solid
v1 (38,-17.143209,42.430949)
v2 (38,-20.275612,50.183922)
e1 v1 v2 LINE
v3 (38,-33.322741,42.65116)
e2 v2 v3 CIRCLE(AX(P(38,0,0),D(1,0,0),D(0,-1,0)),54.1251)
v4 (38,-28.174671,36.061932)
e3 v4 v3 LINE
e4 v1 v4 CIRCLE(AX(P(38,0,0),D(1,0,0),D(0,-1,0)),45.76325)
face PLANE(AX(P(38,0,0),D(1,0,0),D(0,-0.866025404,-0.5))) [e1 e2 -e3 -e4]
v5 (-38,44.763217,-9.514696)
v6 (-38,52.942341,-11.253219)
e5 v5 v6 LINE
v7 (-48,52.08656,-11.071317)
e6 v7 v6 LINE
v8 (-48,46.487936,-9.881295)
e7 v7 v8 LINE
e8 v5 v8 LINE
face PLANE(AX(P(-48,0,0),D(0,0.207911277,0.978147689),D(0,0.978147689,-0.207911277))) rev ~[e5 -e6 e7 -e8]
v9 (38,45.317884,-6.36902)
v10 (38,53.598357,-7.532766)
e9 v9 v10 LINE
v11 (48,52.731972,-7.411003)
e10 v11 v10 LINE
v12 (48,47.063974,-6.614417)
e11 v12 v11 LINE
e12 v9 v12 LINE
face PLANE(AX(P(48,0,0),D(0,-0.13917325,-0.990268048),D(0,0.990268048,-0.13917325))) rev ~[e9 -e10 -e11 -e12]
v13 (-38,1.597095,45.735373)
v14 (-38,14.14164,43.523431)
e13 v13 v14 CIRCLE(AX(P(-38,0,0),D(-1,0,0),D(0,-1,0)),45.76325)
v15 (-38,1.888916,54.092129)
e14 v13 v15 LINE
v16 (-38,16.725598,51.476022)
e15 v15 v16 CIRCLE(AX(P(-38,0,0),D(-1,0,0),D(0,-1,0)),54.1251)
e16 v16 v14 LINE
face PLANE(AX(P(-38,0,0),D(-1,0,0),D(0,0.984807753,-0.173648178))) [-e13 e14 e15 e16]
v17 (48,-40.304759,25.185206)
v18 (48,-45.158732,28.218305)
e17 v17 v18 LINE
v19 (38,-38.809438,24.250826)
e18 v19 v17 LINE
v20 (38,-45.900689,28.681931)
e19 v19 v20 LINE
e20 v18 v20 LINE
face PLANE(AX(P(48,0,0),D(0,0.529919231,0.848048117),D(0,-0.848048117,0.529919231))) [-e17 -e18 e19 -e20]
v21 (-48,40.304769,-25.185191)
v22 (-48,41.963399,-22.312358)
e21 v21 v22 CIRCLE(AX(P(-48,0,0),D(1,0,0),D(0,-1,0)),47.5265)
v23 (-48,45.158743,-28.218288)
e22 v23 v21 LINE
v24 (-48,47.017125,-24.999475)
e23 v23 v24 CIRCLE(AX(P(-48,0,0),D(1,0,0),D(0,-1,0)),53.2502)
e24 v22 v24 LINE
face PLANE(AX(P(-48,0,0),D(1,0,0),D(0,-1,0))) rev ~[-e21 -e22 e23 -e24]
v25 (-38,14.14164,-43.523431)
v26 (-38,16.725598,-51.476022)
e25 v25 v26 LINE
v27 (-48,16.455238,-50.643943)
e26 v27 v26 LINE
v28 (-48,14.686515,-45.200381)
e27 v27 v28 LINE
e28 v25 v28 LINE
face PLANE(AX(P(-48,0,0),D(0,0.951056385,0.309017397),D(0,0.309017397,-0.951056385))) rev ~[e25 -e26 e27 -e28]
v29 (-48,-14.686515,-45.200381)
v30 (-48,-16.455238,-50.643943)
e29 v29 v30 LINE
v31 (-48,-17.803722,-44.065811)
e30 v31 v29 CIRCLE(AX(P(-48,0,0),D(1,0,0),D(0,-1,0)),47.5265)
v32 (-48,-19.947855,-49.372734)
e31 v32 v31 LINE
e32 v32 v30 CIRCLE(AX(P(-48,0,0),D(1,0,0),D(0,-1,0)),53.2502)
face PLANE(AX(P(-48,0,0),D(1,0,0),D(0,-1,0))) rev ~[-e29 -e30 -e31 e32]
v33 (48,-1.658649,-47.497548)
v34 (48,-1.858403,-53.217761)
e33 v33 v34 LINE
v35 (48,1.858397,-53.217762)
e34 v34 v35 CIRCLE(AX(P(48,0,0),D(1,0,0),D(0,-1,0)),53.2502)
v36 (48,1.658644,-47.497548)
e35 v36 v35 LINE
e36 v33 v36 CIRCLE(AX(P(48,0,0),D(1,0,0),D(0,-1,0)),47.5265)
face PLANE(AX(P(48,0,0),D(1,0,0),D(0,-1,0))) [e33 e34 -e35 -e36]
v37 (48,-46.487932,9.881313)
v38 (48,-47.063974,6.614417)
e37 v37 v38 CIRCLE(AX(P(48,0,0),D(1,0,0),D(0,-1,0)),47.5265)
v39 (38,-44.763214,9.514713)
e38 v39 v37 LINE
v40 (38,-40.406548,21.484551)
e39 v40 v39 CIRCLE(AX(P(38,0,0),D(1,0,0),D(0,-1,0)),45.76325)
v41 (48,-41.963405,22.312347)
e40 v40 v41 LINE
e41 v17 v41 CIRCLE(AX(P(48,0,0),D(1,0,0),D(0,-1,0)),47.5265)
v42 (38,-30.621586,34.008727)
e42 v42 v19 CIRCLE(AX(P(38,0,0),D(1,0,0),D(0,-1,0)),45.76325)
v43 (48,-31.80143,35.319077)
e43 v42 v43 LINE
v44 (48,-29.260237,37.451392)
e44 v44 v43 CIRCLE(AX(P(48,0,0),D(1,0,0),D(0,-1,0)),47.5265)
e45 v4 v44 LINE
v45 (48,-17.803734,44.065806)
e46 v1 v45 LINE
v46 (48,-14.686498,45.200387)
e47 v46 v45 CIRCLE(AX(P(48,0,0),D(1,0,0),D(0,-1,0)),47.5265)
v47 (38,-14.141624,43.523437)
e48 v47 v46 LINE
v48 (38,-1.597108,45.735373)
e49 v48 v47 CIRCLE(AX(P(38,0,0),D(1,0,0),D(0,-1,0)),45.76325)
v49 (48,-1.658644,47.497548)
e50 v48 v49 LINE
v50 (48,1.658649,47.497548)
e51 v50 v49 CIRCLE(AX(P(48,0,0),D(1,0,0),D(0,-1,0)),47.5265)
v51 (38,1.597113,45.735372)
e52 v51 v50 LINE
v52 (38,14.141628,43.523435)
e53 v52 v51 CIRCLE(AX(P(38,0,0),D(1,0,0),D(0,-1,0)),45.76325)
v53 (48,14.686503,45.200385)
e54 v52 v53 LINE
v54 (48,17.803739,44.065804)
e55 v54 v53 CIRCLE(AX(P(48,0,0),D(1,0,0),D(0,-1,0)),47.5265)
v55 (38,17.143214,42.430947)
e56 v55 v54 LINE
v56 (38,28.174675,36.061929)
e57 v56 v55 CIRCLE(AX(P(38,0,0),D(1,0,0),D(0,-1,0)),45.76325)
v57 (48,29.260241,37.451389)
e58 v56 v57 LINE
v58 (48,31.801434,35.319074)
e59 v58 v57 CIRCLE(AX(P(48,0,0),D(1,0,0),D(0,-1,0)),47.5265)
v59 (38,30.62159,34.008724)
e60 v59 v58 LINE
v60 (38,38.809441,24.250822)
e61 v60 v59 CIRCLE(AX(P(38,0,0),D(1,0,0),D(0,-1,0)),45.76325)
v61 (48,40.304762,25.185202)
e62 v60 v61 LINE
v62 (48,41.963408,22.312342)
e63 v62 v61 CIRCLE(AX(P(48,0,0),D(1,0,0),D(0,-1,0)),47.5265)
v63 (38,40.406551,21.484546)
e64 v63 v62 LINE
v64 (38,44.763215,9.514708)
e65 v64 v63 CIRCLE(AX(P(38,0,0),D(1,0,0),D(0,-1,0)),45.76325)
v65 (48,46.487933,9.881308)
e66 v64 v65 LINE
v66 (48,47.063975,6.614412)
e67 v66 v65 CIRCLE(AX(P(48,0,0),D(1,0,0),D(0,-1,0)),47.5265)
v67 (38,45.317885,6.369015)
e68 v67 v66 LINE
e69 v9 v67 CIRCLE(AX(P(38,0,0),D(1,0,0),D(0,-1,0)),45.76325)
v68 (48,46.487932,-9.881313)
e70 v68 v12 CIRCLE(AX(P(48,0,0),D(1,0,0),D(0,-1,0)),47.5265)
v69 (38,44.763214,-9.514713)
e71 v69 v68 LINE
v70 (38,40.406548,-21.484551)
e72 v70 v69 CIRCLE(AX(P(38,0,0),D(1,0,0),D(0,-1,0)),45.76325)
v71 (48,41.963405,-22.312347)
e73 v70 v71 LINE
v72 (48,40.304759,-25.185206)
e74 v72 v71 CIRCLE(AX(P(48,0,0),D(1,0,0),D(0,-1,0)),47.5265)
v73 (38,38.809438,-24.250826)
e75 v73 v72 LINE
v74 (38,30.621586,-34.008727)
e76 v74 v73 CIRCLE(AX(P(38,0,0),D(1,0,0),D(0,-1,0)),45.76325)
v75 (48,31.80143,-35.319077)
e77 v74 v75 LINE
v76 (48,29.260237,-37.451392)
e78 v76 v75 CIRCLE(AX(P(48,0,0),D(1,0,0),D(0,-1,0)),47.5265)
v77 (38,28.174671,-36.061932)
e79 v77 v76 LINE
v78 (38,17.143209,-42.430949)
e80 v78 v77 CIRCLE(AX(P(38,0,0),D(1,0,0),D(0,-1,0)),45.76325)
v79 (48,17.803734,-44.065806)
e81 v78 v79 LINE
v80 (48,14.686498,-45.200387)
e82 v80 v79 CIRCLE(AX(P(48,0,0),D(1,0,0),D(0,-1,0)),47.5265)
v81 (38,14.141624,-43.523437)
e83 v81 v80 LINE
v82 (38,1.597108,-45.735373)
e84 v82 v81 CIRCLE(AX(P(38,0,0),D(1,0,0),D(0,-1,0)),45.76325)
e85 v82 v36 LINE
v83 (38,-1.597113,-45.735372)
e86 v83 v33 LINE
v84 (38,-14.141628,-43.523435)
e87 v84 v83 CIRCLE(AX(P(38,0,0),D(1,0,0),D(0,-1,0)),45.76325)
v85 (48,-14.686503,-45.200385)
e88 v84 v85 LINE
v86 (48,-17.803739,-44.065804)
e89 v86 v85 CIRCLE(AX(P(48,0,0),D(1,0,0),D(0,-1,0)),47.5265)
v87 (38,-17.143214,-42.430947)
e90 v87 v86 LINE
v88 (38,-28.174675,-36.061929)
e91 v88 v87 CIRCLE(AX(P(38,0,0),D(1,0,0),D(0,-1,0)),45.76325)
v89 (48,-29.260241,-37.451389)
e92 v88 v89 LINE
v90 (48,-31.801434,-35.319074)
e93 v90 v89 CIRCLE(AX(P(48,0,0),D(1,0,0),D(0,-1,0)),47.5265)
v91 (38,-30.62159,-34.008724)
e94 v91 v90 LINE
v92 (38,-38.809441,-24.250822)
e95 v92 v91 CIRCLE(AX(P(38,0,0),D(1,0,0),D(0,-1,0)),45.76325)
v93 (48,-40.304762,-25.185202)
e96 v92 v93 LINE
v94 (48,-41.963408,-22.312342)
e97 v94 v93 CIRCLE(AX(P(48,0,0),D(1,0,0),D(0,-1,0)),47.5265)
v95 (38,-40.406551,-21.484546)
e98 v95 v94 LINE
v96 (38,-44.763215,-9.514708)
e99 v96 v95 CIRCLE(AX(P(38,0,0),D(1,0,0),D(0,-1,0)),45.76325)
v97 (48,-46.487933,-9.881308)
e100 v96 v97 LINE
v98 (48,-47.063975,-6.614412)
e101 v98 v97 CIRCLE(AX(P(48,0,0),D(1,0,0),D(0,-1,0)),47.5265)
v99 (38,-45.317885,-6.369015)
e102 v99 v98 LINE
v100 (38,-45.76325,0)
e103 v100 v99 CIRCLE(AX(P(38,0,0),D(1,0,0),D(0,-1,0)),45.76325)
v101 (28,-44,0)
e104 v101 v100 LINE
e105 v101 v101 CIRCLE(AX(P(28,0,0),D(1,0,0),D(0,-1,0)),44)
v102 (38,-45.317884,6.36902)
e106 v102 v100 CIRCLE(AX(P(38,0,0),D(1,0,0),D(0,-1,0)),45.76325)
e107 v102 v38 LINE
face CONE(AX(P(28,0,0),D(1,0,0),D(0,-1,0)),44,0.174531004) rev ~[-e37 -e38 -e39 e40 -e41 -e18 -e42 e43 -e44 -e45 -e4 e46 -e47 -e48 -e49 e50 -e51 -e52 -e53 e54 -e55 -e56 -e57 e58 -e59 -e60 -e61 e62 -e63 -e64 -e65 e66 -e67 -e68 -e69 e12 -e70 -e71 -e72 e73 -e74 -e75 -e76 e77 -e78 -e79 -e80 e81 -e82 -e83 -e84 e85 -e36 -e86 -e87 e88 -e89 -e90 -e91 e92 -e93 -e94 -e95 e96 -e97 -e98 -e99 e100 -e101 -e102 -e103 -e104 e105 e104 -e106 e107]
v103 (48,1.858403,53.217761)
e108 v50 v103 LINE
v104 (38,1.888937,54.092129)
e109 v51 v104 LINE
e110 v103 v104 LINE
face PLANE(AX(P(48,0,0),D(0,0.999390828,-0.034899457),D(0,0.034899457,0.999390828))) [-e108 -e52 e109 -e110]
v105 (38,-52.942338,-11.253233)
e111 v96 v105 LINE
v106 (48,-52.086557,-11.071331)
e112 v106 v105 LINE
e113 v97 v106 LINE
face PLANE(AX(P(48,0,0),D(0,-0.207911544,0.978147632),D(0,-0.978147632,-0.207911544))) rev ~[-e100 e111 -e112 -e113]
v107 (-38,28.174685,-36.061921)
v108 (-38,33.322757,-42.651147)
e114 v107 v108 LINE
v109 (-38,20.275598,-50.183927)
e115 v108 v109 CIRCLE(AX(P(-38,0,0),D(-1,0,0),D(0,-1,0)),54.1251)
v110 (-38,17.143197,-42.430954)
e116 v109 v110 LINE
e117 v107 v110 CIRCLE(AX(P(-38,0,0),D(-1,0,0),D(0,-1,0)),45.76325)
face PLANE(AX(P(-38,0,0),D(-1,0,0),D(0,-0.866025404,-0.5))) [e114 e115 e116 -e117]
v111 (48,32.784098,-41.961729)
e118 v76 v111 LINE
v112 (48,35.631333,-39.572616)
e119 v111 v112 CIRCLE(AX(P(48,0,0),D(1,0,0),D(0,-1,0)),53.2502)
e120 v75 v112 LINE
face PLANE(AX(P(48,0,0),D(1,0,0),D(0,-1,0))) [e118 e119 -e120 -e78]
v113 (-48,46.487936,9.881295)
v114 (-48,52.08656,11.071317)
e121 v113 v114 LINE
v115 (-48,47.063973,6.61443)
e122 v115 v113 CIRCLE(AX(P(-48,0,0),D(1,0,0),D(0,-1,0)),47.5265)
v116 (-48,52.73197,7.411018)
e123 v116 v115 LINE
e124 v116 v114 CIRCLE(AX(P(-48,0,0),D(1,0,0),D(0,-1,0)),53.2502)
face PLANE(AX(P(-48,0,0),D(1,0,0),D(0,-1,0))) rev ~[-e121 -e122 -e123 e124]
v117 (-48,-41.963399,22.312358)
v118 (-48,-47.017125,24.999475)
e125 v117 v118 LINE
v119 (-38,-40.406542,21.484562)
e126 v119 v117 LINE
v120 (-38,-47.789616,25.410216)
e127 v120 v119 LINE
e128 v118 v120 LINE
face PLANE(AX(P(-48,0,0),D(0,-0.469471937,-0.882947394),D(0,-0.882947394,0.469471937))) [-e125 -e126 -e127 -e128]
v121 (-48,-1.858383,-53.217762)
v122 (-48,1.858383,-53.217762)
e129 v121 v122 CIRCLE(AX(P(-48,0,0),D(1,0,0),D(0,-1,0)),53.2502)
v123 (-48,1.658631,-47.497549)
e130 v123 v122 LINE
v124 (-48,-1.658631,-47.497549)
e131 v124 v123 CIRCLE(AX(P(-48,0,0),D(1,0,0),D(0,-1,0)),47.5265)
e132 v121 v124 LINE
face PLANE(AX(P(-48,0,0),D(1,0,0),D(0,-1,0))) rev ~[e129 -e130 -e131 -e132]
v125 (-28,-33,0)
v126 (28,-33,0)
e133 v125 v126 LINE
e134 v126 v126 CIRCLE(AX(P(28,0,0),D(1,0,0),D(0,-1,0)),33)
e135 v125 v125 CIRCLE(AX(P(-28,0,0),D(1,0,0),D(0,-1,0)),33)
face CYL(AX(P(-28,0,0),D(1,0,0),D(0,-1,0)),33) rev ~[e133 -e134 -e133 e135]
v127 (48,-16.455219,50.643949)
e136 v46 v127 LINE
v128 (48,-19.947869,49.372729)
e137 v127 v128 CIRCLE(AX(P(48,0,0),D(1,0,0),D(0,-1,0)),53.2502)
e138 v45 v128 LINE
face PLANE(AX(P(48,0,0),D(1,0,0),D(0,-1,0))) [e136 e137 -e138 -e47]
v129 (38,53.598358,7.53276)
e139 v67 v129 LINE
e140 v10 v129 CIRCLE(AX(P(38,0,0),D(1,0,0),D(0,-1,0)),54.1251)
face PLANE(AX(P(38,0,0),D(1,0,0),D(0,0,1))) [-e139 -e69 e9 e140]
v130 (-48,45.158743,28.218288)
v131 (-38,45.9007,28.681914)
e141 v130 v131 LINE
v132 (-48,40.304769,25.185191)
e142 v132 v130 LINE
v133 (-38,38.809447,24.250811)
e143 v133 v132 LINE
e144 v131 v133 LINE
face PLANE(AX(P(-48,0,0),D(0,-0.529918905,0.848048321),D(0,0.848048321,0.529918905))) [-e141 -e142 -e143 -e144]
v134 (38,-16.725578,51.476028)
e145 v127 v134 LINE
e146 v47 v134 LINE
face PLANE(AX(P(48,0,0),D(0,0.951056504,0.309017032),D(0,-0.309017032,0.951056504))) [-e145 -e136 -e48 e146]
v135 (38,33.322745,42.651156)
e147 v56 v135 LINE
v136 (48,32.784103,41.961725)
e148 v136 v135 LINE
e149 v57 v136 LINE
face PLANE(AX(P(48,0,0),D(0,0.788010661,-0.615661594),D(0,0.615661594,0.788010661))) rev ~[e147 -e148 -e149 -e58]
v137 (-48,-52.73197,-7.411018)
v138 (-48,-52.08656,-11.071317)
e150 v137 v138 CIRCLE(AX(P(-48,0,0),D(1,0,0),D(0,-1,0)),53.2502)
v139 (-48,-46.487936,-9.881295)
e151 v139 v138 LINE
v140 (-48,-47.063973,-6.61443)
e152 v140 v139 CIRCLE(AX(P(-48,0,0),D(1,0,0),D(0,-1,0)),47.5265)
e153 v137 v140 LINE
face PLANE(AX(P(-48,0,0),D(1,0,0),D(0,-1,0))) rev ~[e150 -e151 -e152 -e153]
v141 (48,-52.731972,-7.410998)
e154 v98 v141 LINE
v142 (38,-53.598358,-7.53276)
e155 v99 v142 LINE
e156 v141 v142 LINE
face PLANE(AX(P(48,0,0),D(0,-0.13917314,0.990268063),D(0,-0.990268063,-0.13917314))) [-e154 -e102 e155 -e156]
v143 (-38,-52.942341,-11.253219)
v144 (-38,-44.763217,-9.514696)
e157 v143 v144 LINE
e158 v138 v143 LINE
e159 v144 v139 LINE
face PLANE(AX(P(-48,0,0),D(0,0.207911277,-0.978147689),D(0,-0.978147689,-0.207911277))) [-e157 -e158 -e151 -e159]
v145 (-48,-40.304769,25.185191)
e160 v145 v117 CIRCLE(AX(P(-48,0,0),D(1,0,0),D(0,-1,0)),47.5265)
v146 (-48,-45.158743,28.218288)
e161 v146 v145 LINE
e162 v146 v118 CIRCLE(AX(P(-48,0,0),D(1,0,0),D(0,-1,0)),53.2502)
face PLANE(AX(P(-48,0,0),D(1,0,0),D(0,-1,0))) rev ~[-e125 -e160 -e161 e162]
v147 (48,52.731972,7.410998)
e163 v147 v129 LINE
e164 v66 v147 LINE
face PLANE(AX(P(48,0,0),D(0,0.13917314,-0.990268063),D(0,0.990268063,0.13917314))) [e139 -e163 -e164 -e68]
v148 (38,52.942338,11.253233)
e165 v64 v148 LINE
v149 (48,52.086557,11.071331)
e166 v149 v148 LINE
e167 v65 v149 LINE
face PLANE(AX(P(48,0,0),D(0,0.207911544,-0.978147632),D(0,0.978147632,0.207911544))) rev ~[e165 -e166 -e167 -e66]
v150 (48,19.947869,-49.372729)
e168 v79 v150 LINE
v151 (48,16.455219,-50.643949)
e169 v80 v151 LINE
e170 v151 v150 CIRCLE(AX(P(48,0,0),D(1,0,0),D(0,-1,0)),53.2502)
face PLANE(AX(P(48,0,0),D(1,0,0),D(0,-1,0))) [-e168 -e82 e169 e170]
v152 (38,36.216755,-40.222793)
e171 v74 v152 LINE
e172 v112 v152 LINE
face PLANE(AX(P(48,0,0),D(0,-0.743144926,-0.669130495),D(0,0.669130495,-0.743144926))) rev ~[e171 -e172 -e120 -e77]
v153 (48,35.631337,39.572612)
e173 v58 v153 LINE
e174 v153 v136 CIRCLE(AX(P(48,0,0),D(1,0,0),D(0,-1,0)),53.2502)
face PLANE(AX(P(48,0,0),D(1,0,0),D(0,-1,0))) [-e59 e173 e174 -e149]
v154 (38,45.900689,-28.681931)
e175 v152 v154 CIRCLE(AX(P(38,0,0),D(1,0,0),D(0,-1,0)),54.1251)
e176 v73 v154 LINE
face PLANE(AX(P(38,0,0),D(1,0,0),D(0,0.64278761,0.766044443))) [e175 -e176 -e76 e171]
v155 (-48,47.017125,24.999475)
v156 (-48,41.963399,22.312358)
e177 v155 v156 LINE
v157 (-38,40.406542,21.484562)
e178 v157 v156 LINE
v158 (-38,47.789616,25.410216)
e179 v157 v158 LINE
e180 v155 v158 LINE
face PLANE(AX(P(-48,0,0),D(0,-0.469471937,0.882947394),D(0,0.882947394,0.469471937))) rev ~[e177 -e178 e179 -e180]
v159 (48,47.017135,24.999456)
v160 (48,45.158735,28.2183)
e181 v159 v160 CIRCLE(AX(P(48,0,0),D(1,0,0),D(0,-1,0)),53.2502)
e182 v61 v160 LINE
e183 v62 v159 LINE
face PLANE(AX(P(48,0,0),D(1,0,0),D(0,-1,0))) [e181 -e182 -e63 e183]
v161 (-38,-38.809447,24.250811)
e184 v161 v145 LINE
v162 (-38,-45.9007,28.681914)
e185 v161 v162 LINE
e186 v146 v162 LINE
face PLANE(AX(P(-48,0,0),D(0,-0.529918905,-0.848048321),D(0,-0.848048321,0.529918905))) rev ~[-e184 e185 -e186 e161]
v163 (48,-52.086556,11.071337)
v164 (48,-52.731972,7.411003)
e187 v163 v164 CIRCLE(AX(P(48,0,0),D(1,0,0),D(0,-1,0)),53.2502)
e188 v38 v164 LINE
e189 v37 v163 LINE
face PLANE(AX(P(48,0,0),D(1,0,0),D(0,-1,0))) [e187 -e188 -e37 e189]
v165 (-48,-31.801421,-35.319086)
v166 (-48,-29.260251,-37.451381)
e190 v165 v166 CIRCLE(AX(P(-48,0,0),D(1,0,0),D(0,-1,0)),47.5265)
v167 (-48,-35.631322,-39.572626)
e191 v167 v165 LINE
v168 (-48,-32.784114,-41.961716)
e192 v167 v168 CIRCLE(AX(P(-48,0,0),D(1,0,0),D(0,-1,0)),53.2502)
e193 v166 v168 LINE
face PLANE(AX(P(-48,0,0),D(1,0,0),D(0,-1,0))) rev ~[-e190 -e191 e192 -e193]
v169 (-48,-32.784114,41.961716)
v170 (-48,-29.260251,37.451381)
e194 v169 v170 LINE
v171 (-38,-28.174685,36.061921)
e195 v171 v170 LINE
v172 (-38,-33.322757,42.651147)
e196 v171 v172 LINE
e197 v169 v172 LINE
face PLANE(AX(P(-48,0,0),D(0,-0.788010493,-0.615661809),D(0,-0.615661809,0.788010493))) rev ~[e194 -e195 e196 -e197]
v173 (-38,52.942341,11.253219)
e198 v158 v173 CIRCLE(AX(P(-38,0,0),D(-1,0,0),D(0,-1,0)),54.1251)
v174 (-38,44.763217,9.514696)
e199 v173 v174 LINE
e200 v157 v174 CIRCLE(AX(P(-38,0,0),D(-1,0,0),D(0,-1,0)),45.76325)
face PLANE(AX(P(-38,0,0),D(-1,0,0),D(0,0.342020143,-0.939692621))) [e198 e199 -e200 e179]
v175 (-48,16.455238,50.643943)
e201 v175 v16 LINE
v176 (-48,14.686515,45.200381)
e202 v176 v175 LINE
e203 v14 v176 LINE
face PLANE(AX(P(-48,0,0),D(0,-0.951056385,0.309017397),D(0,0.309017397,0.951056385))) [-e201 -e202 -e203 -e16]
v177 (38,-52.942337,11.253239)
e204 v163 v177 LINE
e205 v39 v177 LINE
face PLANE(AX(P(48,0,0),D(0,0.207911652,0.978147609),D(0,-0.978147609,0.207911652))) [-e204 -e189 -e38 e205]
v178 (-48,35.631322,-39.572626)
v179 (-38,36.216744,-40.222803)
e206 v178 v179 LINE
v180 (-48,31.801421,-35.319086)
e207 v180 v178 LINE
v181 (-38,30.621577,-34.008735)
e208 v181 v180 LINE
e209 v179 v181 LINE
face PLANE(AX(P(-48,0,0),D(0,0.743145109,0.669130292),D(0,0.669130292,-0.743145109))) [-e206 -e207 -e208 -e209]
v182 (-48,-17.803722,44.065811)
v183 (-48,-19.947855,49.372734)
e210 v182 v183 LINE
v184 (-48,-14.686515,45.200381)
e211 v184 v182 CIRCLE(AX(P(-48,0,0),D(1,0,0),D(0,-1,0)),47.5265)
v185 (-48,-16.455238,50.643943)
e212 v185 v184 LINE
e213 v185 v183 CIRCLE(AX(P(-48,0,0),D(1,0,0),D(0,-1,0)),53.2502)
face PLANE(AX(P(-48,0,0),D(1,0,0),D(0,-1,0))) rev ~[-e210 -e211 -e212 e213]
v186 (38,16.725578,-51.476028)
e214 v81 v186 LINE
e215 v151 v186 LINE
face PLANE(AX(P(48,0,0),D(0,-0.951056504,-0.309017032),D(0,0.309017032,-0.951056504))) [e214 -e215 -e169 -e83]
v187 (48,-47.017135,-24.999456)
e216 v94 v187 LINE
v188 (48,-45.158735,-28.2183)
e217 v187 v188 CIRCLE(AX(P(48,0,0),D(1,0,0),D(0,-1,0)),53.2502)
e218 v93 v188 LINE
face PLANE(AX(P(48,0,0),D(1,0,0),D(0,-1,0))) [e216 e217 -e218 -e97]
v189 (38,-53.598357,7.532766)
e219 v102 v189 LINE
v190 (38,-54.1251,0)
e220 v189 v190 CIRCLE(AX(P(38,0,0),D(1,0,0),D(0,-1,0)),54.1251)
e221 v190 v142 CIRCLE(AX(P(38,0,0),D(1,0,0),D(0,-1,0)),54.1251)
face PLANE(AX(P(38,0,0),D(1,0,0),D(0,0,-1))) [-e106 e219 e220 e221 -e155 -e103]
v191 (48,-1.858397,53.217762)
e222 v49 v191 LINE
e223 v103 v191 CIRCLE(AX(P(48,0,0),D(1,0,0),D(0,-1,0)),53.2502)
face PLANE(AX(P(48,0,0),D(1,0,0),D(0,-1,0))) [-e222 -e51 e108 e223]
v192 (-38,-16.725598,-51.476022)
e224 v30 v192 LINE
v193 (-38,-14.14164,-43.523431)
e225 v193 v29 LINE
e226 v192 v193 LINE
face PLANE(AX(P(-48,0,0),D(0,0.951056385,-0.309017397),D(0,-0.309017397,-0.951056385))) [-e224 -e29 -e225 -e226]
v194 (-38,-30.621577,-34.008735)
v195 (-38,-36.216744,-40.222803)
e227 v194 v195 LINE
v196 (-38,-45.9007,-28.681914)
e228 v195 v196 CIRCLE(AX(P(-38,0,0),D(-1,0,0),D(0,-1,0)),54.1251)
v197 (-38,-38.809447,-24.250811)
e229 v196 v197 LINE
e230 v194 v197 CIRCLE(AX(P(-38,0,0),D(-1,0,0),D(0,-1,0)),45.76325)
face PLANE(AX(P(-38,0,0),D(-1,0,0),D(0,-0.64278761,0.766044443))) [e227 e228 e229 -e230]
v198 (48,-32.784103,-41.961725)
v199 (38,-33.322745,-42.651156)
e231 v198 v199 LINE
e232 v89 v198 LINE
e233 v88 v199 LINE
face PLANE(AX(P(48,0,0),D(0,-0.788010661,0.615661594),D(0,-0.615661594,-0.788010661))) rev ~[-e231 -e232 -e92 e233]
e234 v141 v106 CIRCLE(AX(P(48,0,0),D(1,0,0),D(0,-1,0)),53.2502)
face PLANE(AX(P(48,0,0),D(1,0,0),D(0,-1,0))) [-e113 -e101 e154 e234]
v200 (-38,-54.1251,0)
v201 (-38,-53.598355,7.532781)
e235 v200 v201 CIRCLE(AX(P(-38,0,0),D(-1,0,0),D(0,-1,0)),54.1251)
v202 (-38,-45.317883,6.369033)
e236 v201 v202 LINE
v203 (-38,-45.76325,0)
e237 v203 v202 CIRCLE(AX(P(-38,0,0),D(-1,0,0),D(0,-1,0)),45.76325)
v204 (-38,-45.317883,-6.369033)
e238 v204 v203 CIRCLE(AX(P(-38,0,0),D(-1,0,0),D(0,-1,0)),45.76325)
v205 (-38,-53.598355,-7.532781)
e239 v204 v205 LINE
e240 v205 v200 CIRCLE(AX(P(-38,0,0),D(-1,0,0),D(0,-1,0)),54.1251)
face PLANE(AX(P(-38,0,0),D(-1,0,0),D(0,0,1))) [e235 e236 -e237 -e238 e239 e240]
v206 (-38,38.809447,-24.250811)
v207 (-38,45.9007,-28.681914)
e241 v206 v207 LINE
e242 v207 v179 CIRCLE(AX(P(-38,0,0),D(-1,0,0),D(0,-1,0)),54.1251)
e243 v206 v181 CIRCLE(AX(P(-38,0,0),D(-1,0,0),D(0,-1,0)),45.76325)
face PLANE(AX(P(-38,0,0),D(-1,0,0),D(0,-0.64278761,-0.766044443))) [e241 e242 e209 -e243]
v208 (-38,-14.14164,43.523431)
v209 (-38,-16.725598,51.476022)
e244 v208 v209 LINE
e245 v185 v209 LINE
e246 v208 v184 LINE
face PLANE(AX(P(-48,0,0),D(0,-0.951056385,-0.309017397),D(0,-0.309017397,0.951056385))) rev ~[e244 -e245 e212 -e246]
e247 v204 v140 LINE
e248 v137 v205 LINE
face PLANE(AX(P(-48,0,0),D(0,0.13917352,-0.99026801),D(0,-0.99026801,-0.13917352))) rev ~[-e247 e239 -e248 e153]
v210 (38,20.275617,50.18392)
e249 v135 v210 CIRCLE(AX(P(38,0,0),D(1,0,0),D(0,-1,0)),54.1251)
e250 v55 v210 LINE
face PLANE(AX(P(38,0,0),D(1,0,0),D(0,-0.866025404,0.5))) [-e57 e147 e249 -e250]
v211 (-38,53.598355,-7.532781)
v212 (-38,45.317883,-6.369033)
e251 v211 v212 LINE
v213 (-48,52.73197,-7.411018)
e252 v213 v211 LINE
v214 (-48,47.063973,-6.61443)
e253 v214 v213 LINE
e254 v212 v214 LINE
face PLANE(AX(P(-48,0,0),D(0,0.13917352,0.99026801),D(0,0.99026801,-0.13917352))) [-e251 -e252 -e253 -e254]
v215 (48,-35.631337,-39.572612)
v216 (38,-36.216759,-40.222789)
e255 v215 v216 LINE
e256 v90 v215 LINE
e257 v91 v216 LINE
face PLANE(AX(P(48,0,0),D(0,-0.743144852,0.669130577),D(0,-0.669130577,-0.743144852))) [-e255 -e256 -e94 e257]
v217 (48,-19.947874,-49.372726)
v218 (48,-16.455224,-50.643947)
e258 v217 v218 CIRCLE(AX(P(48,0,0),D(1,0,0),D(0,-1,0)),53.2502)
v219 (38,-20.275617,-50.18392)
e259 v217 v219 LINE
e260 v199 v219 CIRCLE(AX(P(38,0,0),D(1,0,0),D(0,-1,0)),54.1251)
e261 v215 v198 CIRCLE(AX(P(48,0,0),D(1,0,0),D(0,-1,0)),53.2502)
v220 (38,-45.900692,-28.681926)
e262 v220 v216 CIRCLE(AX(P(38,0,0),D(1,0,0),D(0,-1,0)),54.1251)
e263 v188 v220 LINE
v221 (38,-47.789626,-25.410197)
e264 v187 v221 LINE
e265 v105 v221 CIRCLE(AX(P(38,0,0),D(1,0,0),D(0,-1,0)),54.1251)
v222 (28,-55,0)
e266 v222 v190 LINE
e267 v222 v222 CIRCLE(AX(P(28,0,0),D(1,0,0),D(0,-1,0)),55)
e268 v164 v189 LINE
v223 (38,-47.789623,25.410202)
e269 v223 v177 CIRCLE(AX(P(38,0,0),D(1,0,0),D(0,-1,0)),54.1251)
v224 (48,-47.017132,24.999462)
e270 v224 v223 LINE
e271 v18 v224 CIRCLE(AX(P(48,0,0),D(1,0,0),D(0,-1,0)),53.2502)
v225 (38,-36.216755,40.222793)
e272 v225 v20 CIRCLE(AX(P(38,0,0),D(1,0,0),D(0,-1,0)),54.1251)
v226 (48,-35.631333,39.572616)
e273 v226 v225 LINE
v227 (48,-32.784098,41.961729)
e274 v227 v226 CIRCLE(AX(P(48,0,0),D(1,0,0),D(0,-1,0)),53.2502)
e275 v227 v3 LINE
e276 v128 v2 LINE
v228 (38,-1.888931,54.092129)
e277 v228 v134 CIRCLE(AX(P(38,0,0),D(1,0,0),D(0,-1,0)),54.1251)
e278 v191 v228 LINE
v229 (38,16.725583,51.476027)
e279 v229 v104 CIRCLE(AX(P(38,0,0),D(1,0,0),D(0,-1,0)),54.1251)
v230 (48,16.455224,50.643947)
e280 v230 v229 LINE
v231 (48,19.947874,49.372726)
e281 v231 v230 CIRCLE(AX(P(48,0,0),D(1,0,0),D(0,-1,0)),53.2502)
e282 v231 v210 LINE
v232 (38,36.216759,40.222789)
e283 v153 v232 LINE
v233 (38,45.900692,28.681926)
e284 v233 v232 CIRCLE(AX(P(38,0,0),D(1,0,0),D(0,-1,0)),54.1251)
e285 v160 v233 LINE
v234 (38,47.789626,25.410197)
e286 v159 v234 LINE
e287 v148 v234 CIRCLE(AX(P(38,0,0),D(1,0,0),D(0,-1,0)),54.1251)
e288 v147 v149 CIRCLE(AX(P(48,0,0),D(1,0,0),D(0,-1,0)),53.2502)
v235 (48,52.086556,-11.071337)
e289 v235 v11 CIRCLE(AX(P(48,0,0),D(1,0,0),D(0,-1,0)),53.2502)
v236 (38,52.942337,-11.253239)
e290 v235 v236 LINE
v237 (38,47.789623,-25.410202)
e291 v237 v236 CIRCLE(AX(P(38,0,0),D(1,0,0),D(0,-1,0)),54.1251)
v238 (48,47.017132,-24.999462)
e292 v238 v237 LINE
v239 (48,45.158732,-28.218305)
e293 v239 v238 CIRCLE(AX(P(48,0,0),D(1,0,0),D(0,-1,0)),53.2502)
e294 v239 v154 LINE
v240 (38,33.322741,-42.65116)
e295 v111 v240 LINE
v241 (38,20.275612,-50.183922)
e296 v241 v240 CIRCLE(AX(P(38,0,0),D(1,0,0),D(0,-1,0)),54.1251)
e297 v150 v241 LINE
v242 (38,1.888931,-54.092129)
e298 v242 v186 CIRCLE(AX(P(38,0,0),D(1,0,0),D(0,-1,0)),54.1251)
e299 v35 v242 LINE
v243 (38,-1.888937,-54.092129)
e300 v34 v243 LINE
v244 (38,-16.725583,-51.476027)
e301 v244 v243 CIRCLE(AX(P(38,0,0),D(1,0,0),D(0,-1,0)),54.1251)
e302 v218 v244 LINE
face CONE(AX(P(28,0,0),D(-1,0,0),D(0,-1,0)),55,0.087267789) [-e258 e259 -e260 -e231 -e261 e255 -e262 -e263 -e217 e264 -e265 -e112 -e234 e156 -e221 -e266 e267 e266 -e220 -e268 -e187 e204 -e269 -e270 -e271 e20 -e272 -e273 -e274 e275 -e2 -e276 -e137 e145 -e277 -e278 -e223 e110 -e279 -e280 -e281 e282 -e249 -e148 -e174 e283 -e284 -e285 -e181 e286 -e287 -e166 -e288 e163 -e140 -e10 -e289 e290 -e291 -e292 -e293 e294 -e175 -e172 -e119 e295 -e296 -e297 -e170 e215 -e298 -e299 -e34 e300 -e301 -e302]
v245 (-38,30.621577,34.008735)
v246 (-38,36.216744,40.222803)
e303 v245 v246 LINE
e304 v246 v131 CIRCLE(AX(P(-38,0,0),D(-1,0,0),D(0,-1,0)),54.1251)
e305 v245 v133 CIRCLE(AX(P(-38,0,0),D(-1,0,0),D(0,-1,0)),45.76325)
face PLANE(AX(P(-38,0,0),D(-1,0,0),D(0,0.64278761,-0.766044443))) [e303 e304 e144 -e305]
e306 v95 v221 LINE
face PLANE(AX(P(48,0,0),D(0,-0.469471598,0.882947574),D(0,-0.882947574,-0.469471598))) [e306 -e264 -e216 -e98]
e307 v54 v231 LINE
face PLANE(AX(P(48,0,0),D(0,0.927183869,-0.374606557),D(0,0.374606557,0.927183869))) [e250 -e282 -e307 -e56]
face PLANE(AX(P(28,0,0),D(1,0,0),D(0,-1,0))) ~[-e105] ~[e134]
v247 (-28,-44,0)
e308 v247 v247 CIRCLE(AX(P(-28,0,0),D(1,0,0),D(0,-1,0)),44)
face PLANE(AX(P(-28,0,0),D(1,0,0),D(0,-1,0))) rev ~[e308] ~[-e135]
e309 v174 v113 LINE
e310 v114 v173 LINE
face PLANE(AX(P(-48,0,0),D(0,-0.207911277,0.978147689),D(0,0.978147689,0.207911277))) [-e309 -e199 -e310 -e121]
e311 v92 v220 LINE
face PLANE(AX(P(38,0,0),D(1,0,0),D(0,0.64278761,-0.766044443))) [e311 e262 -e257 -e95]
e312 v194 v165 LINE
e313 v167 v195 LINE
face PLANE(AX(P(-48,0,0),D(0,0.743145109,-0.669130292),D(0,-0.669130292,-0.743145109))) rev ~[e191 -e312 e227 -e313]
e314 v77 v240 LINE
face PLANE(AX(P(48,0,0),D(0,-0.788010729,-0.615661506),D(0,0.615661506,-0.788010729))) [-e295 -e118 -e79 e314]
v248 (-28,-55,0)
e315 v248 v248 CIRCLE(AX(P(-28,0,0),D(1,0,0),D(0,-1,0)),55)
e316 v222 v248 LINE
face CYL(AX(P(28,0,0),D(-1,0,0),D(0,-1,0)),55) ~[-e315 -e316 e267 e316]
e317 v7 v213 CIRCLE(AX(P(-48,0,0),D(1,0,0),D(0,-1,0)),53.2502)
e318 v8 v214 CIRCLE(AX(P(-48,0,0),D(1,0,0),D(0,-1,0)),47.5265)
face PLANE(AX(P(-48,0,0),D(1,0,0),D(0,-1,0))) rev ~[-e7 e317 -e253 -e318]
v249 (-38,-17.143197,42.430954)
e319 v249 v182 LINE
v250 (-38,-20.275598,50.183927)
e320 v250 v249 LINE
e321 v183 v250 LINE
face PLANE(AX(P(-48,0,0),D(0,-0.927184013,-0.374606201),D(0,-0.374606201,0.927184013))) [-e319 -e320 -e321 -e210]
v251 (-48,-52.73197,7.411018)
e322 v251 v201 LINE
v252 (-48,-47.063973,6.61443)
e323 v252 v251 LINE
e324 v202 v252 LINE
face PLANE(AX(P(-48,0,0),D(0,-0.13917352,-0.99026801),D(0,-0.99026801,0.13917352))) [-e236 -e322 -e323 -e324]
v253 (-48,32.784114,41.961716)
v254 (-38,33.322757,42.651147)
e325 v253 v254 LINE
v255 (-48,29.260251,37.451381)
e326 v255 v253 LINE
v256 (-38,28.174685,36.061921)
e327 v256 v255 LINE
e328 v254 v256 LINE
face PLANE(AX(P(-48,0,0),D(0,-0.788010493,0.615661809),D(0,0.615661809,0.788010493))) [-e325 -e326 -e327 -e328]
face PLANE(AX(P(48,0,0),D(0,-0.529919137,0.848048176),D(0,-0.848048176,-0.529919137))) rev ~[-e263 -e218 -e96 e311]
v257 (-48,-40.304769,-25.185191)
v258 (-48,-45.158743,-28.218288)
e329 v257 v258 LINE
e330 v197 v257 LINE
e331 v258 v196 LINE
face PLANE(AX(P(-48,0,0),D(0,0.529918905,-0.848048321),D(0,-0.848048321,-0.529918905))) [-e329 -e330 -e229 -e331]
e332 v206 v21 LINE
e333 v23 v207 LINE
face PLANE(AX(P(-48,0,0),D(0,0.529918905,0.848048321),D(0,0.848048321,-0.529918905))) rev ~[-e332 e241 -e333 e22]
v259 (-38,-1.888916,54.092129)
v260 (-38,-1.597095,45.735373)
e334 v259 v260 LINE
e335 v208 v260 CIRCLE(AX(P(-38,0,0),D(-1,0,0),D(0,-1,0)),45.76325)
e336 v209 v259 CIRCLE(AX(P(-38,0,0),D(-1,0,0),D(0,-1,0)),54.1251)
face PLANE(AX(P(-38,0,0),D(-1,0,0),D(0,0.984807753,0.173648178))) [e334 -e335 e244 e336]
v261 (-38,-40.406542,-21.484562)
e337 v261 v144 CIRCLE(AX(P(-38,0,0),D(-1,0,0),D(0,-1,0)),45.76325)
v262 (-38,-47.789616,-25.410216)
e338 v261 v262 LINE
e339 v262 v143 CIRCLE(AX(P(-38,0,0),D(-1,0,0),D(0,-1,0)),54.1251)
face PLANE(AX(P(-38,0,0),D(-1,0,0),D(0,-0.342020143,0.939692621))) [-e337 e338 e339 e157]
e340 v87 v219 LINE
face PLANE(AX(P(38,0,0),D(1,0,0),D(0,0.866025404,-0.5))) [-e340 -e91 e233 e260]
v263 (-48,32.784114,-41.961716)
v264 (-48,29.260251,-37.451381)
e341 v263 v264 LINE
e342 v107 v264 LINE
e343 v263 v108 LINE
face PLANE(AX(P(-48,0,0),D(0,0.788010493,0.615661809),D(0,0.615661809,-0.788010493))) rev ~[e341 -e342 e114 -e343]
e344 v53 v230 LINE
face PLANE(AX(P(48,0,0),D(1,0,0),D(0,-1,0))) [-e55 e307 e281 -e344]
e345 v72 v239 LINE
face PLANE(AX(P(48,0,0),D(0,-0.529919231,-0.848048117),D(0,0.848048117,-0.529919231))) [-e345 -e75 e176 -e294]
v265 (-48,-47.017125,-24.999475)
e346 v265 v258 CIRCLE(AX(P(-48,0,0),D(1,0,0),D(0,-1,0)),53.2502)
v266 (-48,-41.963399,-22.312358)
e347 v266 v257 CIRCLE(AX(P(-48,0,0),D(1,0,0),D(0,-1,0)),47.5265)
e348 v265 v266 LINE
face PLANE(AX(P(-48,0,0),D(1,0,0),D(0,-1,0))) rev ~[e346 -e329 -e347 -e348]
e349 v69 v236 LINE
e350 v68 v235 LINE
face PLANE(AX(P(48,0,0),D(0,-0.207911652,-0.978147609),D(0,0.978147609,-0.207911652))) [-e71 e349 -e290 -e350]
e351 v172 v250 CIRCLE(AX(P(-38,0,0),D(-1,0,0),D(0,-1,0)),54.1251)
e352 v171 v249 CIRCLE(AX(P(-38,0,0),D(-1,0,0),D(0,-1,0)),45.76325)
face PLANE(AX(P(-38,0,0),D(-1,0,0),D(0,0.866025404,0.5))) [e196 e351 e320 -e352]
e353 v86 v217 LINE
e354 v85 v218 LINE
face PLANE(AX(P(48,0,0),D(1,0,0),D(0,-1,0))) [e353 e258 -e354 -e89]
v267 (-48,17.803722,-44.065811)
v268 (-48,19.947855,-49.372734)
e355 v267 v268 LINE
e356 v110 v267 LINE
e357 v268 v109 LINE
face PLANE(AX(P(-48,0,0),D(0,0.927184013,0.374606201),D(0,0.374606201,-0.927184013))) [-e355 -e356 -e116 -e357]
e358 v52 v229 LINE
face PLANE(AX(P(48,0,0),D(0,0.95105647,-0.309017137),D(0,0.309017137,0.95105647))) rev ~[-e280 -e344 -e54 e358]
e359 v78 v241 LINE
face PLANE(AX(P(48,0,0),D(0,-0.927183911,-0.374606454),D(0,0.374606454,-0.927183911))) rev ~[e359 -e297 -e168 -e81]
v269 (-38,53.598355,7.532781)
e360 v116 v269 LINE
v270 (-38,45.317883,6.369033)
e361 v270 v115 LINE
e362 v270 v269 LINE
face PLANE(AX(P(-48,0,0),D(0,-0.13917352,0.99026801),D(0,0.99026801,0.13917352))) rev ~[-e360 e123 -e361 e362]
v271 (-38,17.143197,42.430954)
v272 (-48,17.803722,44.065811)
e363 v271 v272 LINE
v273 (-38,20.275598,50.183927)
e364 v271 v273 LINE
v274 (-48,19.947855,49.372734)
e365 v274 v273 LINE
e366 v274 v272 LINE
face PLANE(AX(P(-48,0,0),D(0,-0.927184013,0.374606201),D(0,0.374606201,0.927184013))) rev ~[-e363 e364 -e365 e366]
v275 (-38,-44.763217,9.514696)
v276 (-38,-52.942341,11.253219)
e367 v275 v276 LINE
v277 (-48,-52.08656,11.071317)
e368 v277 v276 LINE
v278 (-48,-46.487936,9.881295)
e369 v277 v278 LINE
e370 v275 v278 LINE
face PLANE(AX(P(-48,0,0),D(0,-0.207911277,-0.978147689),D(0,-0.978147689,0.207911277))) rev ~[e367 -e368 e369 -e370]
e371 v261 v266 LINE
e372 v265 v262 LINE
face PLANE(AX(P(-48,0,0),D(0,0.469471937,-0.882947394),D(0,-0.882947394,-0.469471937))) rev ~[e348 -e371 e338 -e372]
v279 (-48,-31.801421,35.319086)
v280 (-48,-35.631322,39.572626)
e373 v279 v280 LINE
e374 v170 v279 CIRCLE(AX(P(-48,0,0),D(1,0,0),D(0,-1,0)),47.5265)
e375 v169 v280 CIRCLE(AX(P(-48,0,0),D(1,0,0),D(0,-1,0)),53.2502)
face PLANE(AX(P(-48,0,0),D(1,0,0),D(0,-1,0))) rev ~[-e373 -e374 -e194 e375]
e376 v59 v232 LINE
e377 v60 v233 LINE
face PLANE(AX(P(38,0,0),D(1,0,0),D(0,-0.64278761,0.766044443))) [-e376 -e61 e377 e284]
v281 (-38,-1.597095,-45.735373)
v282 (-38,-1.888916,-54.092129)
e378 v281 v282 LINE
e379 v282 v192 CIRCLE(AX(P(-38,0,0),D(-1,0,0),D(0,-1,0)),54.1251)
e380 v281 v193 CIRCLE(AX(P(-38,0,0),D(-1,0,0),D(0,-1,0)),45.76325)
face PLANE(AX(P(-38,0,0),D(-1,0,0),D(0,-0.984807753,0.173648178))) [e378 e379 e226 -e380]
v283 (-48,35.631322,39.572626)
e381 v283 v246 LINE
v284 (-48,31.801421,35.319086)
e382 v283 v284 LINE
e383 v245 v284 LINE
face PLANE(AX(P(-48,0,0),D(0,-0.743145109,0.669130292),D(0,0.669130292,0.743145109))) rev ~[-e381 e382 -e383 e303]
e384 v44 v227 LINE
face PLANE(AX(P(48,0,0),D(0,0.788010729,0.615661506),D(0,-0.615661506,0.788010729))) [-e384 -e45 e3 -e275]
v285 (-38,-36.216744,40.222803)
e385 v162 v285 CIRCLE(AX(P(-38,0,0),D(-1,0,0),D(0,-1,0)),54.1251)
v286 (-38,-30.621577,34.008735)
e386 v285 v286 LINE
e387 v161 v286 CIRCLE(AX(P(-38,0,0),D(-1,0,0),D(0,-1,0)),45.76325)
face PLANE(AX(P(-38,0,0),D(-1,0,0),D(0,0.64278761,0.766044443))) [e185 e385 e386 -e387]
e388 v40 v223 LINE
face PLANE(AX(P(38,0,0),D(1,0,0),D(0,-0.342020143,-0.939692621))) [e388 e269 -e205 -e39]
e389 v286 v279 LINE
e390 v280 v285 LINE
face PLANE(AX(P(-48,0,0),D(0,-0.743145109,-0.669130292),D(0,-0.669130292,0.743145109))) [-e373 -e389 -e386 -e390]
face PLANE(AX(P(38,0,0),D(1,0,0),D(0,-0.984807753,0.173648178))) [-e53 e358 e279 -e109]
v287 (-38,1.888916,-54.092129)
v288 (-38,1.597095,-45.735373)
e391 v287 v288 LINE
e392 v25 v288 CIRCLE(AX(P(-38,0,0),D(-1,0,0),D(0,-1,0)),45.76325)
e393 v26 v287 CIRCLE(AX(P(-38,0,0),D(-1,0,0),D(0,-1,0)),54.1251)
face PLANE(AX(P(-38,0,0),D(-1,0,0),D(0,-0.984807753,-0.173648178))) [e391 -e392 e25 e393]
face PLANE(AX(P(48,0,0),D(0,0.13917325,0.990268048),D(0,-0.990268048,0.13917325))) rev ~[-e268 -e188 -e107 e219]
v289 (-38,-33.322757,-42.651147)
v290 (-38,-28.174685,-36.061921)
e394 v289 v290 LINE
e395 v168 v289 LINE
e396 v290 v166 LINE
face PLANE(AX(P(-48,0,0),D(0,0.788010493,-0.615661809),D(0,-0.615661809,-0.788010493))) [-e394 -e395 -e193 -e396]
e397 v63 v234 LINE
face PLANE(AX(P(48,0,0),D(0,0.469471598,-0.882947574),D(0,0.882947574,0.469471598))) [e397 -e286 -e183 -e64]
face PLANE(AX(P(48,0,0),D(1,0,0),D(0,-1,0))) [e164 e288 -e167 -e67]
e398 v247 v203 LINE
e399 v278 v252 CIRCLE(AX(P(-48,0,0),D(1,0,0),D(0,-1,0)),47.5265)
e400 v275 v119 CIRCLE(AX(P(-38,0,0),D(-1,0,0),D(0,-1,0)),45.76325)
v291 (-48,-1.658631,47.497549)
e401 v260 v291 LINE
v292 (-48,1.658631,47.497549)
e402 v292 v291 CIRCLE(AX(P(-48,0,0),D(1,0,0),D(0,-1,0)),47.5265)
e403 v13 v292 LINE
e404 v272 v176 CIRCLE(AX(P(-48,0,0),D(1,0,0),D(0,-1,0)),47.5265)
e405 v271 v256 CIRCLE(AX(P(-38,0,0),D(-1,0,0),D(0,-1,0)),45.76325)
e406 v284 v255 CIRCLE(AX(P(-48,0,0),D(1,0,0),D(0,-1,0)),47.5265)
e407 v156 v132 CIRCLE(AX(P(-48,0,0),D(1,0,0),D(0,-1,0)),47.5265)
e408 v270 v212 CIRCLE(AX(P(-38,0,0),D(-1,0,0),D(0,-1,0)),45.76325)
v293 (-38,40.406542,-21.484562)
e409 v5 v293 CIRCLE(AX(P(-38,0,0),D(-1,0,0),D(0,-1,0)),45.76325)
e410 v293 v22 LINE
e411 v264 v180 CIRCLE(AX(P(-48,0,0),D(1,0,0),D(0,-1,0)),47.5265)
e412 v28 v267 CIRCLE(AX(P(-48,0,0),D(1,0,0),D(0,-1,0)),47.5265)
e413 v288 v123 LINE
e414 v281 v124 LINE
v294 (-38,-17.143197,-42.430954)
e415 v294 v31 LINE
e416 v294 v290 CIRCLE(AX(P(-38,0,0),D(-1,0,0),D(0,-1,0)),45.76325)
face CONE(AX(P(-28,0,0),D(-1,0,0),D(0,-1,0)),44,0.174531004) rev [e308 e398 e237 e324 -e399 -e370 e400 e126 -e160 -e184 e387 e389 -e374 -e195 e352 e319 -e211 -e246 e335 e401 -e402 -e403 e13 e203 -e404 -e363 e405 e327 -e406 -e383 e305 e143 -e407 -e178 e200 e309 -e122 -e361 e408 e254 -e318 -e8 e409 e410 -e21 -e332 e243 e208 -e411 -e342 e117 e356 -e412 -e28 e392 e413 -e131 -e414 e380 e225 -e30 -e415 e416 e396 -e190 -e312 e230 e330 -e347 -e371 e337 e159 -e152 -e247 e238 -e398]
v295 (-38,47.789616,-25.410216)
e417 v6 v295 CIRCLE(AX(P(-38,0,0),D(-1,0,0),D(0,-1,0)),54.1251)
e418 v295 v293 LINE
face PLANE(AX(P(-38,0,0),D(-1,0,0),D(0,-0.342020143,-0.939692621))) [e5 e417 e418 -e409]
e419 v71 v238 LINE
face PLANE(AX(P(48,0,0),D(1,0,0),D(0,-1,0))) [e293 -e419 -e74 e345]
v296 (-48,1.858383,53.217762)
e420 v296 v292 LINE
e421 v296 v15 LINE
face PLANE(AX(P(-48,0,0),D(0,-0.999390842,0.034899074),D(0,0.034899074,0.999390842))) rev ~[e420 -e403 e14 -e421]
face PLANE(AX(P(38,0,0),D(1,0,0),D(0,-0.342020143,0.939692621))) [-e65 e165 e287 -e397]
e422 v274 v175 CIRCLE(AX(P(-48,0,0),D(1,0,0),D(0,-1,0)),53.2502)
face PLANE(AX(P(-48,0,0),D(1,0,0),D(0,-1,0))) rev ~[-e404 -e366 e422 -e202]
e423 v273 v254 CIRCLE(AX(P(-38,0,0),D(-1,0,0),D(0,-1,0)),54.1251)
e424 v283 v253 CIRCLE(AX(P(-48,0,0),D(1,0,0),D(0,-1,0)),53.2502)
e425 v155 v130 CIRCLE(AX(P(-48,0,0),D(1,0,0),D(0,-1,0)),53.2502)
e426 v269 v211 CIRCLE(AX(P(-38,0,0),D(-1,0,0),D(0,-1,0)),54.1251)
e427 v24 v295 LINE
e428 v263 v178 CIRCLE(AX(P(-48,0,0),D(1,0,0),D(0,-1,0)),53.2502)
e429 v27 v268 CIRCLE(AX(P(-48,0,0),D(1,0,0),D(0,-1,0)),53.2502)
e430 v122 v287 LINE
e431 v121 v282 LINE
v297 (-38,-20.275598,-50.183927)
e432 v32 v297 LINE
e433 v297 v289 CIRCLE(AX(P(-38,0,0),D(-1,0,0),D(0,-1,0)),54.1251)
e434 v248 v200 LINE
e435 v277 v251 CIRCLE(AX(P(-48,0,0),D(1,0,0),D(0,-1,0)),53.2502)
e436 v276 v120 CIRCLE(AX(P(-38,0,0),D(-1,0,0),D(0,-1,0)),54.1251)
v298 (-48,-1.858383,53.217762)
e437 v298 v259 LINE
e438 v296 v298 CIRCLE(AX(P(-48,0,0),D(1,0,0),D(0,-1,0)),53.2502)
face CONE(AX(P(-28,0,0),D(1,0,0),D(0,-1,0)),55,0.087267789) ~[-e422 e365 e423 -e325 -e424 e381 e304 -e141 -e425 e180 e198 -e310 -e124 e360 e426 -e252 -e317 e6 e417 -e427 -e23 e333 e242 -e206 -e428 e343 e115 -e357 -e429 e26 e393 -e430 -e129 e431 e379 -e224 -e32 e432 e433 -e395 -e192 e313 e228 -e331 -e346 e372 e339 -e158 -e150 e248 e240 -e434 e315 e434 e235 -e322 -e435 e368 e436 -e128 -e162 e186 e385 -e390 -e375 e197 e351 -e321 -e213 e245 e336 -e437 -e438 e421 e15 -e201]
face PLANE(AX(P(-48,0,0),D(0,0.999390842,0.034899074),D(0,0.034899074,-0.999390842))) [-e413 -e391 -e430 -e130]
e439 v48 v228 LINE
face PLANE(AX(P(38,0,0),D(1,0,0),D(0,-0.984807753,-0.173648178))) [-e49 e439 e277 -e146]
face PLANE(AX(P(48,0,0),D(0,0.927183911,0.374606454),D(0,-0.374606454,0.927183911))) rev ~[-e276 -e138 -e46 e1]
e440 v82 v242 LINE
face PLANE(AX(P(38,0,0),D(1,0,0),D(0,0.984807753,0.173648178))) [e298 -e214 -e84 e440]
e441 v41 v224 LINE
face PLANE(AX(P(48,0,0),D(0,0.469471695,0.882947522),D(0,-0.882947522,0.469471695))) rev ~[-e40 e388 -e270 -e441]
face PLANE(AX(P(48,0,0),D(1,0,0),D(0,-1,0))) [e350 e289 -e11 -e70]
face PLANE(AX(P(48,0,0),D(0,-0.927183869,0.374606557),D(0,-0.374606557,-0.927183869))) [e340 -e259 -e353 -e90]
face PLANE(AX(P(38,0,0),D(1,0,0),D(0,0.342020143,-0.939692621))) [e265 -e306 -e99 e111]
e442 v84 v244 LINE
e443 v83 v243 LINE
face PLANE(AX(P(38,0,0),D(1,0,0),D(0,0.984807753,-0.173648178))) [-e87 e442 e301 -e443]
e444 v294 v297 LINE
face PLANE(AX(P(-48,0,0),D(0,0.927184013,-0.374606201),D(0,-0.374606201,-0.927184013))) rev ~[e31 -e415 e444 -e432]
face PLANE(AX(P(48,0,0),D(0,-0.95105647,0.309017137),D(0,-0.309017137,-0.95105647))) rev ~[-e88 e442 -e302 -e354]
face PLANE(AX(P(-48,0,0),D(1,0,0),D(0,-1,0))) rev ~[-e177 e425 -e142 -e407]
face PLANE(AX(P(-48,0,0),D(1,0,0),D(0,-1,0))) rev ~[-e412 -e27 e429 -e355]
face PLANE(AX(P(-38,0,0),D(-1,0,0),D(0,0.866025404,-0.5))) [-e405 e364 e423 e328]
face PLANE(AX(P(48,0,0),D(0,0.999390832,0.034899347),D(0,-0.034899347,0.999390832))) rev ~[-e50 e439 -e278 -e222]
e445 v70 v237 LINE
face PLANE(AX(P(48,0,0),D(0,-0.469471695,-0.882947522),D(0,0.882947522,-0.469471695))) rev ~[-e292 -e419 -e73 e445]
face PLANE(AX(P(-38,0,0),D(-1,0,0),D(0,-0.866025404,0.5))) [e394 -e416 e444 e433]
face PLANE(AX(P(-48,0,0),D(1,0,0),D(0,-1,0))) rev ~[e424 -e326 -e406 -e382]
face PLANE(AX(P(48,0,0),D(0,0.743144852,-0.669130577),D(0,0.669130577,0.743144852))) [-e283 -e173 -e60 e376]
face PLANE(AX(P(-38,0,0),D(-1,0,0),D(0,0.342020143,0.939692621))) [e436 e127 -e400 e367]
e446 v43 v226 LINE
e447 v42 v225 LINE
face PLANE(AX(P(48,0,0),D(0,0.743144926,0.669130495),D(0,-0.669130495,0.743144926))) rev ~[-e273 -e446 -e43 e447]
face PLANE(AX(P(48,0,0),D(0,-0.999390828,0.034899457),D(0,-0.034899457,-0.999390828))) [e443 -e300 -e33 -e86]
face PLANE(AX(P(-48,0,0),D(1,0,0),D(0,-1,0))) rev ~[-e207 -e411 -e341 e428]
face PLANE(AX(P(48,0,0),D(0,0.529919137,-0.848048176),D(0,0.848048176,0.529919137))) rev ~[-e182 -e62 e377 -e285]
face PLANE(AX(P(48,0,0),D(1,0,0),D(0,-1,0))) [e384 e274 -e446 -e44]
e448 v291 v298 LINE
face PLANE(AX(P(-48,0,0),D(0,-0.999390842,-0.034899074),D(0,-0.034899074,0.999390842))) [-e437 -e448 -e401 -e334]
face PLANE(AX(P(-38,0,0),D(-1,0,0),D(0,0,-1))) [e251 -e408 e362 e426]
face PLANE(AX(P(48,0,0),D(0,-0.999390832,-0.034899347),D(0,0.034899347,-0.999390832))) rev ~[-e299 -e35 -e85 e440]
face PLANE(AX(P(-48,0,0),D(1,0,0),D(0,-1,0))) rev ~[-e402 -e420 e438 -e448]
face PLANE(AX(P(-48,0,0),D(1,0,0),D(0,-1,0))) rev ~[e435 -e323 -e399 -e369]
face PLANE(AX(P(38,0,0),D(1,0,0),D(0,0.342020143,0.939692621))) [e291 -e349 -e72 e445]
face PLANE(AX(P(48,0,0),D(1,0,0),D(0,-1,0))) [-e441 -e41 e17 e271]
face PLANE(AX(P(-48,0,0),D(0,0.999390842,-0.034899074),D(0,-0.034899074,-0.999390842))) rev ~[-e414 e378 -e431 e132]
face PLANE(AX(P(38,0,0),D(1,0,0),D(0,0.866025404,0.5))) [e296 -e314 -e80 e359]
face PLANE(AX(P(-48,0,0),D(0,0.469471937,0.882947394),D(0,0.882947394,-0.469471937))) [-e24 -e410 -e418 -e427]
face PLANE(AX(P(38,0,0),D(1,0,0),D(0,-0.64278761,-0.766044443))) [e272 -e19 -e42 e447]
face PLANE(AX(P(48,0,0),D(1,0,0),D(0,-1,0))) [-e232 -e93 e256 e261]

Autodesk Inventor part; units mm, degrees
ref_plane "XZ Plane" through (0, 0, 0) normal (0, 1, 0) x (-1, 0, 0)
sketch "Эскиз1" plane through (0, 0, 0) normal (0, 0, 1) x (1, 0, 0)
  line L0 (-28, -33) -> (28, -33)
  line L1 (28, -33) -> (28, -44)
  line L2 (28, -55) -> (-28, -55)
  line L3 (-28, -44) -> (-28, -33)
  line L4 (-67.2, 0) -> (67.2, 0) projected
  line L5 (-48, -53.2502) -> (-48, -47.5265)
  line L6 (-28, -44) -> (-48, -47.5265)
  line L7 (-28, -55) -> (-48, -53.2502)
  line L8 (28, -55) -> (48, -53.2502)
  line L9 (28, -44) -> (48, -47.5265)
  line L10 (48, -53.2502) -> (48, -47.5265)
  point P0 (0, 0)
  dimension "d0" = 56
  dimension "d1" = 33
  dimension "d2" = 22
  dimension "d3" = 28
  dimension "d5" = 20
  dimension "d6" = 5
  dimension "d7" = 10
  dimension "d8" = 20
  dimension "d9" = 5
  dimension "d10" = 10
  dimension "d11" = 28
  dimension "d12" = 22
  dimension "d13" = 11
  dimension "d14" = 11
revolve "Вращение1" add sketch "Эскиз1" angle 360 about axis through (-10, 0, 0) along (1, 0, 0)
ref_plane "РабПлоскость1" through (-48, 0, 0) normal (-1, 0, 0) x (0, 0, 1)
sketch "Эскиз3" plane through (-48, 0, 0) normal (-1, 0, 0) x (0, 0, 1)
  circle A0 centre (0, 0) radius 33 projected
  arc A1 (-8.6859, -61.8032) -> (8.6859, -61.8032) centre (0, 0) ccw
  line L0 (0, 0) -> (8.6859, -61.8032)
  line L1 (0, 80.4796) -> (0, -97.8775) construction
  line L2 (0, 0) -> (-8.6859, -61.8032)
  point P0 (6.334, -72.3979)
  point P1 (-6.334, -72.3979)
  dimension "d17" = 8
  dimension "d18" = 8
extrude "Выдавливание1" cut sketch "Эскиз3" against normal blind 10 contours L2 L0 A0 | A0 L0 A1 L2 picked at (0, -21.9762)
pattern_circular "Круговой массив1" count 18 over 360 about axis through (-10, 0, 0) along (1, 0, 0) of "Выдавливание1"
ref_plane "РабПлоскость2" through (48, 0, 0) normal (1, 0, 0) x (0, 0, -1)
sketch "Эскиз4" plane through (48, 0, 0) normal (1, 0, 0) x (0, 0, -1)
  circle A0 centre (-0.7714, 0) radius 62.1571
  arc A1 (45.7354, 1.5971) -> (43.5235, 14.1416) centre (0, 0) ccw projected
  line L0 (0, 0) -> (8.635, -61.4412)
  line L1 (0, 0) -> (-8.6649, -61.6539)
  line L2 (0, -99.8629) -> (0, 89.1605) construction
  dimension "d25" = 8
  dimension "d26" = 8
extrude "Выдавливание2" cut sketch "Эскиз4" against normal blind 10 contours L1 L0 A0 picked at (-3.855, -41.2582)
pattern_circular "Круговой массив2" count 18 over 360 about axis through (-10, 0, 0) along (1, 0, 0) of "Выдавливание2"
equation "\"d3\" = 0.5 * d0"
equation "\"d8\" = d5"
equation "\"d9\" = d6"
equation "\"d10\" = d7"
equation "\"d11\" = d3"
equation "\"d13\" = 0.5 * d12"
equation "\"d14\" = d13"
equation "\"d18\" = d17"
equation "\"d26\" = d25"
properties part number "Сердечник ротора"
